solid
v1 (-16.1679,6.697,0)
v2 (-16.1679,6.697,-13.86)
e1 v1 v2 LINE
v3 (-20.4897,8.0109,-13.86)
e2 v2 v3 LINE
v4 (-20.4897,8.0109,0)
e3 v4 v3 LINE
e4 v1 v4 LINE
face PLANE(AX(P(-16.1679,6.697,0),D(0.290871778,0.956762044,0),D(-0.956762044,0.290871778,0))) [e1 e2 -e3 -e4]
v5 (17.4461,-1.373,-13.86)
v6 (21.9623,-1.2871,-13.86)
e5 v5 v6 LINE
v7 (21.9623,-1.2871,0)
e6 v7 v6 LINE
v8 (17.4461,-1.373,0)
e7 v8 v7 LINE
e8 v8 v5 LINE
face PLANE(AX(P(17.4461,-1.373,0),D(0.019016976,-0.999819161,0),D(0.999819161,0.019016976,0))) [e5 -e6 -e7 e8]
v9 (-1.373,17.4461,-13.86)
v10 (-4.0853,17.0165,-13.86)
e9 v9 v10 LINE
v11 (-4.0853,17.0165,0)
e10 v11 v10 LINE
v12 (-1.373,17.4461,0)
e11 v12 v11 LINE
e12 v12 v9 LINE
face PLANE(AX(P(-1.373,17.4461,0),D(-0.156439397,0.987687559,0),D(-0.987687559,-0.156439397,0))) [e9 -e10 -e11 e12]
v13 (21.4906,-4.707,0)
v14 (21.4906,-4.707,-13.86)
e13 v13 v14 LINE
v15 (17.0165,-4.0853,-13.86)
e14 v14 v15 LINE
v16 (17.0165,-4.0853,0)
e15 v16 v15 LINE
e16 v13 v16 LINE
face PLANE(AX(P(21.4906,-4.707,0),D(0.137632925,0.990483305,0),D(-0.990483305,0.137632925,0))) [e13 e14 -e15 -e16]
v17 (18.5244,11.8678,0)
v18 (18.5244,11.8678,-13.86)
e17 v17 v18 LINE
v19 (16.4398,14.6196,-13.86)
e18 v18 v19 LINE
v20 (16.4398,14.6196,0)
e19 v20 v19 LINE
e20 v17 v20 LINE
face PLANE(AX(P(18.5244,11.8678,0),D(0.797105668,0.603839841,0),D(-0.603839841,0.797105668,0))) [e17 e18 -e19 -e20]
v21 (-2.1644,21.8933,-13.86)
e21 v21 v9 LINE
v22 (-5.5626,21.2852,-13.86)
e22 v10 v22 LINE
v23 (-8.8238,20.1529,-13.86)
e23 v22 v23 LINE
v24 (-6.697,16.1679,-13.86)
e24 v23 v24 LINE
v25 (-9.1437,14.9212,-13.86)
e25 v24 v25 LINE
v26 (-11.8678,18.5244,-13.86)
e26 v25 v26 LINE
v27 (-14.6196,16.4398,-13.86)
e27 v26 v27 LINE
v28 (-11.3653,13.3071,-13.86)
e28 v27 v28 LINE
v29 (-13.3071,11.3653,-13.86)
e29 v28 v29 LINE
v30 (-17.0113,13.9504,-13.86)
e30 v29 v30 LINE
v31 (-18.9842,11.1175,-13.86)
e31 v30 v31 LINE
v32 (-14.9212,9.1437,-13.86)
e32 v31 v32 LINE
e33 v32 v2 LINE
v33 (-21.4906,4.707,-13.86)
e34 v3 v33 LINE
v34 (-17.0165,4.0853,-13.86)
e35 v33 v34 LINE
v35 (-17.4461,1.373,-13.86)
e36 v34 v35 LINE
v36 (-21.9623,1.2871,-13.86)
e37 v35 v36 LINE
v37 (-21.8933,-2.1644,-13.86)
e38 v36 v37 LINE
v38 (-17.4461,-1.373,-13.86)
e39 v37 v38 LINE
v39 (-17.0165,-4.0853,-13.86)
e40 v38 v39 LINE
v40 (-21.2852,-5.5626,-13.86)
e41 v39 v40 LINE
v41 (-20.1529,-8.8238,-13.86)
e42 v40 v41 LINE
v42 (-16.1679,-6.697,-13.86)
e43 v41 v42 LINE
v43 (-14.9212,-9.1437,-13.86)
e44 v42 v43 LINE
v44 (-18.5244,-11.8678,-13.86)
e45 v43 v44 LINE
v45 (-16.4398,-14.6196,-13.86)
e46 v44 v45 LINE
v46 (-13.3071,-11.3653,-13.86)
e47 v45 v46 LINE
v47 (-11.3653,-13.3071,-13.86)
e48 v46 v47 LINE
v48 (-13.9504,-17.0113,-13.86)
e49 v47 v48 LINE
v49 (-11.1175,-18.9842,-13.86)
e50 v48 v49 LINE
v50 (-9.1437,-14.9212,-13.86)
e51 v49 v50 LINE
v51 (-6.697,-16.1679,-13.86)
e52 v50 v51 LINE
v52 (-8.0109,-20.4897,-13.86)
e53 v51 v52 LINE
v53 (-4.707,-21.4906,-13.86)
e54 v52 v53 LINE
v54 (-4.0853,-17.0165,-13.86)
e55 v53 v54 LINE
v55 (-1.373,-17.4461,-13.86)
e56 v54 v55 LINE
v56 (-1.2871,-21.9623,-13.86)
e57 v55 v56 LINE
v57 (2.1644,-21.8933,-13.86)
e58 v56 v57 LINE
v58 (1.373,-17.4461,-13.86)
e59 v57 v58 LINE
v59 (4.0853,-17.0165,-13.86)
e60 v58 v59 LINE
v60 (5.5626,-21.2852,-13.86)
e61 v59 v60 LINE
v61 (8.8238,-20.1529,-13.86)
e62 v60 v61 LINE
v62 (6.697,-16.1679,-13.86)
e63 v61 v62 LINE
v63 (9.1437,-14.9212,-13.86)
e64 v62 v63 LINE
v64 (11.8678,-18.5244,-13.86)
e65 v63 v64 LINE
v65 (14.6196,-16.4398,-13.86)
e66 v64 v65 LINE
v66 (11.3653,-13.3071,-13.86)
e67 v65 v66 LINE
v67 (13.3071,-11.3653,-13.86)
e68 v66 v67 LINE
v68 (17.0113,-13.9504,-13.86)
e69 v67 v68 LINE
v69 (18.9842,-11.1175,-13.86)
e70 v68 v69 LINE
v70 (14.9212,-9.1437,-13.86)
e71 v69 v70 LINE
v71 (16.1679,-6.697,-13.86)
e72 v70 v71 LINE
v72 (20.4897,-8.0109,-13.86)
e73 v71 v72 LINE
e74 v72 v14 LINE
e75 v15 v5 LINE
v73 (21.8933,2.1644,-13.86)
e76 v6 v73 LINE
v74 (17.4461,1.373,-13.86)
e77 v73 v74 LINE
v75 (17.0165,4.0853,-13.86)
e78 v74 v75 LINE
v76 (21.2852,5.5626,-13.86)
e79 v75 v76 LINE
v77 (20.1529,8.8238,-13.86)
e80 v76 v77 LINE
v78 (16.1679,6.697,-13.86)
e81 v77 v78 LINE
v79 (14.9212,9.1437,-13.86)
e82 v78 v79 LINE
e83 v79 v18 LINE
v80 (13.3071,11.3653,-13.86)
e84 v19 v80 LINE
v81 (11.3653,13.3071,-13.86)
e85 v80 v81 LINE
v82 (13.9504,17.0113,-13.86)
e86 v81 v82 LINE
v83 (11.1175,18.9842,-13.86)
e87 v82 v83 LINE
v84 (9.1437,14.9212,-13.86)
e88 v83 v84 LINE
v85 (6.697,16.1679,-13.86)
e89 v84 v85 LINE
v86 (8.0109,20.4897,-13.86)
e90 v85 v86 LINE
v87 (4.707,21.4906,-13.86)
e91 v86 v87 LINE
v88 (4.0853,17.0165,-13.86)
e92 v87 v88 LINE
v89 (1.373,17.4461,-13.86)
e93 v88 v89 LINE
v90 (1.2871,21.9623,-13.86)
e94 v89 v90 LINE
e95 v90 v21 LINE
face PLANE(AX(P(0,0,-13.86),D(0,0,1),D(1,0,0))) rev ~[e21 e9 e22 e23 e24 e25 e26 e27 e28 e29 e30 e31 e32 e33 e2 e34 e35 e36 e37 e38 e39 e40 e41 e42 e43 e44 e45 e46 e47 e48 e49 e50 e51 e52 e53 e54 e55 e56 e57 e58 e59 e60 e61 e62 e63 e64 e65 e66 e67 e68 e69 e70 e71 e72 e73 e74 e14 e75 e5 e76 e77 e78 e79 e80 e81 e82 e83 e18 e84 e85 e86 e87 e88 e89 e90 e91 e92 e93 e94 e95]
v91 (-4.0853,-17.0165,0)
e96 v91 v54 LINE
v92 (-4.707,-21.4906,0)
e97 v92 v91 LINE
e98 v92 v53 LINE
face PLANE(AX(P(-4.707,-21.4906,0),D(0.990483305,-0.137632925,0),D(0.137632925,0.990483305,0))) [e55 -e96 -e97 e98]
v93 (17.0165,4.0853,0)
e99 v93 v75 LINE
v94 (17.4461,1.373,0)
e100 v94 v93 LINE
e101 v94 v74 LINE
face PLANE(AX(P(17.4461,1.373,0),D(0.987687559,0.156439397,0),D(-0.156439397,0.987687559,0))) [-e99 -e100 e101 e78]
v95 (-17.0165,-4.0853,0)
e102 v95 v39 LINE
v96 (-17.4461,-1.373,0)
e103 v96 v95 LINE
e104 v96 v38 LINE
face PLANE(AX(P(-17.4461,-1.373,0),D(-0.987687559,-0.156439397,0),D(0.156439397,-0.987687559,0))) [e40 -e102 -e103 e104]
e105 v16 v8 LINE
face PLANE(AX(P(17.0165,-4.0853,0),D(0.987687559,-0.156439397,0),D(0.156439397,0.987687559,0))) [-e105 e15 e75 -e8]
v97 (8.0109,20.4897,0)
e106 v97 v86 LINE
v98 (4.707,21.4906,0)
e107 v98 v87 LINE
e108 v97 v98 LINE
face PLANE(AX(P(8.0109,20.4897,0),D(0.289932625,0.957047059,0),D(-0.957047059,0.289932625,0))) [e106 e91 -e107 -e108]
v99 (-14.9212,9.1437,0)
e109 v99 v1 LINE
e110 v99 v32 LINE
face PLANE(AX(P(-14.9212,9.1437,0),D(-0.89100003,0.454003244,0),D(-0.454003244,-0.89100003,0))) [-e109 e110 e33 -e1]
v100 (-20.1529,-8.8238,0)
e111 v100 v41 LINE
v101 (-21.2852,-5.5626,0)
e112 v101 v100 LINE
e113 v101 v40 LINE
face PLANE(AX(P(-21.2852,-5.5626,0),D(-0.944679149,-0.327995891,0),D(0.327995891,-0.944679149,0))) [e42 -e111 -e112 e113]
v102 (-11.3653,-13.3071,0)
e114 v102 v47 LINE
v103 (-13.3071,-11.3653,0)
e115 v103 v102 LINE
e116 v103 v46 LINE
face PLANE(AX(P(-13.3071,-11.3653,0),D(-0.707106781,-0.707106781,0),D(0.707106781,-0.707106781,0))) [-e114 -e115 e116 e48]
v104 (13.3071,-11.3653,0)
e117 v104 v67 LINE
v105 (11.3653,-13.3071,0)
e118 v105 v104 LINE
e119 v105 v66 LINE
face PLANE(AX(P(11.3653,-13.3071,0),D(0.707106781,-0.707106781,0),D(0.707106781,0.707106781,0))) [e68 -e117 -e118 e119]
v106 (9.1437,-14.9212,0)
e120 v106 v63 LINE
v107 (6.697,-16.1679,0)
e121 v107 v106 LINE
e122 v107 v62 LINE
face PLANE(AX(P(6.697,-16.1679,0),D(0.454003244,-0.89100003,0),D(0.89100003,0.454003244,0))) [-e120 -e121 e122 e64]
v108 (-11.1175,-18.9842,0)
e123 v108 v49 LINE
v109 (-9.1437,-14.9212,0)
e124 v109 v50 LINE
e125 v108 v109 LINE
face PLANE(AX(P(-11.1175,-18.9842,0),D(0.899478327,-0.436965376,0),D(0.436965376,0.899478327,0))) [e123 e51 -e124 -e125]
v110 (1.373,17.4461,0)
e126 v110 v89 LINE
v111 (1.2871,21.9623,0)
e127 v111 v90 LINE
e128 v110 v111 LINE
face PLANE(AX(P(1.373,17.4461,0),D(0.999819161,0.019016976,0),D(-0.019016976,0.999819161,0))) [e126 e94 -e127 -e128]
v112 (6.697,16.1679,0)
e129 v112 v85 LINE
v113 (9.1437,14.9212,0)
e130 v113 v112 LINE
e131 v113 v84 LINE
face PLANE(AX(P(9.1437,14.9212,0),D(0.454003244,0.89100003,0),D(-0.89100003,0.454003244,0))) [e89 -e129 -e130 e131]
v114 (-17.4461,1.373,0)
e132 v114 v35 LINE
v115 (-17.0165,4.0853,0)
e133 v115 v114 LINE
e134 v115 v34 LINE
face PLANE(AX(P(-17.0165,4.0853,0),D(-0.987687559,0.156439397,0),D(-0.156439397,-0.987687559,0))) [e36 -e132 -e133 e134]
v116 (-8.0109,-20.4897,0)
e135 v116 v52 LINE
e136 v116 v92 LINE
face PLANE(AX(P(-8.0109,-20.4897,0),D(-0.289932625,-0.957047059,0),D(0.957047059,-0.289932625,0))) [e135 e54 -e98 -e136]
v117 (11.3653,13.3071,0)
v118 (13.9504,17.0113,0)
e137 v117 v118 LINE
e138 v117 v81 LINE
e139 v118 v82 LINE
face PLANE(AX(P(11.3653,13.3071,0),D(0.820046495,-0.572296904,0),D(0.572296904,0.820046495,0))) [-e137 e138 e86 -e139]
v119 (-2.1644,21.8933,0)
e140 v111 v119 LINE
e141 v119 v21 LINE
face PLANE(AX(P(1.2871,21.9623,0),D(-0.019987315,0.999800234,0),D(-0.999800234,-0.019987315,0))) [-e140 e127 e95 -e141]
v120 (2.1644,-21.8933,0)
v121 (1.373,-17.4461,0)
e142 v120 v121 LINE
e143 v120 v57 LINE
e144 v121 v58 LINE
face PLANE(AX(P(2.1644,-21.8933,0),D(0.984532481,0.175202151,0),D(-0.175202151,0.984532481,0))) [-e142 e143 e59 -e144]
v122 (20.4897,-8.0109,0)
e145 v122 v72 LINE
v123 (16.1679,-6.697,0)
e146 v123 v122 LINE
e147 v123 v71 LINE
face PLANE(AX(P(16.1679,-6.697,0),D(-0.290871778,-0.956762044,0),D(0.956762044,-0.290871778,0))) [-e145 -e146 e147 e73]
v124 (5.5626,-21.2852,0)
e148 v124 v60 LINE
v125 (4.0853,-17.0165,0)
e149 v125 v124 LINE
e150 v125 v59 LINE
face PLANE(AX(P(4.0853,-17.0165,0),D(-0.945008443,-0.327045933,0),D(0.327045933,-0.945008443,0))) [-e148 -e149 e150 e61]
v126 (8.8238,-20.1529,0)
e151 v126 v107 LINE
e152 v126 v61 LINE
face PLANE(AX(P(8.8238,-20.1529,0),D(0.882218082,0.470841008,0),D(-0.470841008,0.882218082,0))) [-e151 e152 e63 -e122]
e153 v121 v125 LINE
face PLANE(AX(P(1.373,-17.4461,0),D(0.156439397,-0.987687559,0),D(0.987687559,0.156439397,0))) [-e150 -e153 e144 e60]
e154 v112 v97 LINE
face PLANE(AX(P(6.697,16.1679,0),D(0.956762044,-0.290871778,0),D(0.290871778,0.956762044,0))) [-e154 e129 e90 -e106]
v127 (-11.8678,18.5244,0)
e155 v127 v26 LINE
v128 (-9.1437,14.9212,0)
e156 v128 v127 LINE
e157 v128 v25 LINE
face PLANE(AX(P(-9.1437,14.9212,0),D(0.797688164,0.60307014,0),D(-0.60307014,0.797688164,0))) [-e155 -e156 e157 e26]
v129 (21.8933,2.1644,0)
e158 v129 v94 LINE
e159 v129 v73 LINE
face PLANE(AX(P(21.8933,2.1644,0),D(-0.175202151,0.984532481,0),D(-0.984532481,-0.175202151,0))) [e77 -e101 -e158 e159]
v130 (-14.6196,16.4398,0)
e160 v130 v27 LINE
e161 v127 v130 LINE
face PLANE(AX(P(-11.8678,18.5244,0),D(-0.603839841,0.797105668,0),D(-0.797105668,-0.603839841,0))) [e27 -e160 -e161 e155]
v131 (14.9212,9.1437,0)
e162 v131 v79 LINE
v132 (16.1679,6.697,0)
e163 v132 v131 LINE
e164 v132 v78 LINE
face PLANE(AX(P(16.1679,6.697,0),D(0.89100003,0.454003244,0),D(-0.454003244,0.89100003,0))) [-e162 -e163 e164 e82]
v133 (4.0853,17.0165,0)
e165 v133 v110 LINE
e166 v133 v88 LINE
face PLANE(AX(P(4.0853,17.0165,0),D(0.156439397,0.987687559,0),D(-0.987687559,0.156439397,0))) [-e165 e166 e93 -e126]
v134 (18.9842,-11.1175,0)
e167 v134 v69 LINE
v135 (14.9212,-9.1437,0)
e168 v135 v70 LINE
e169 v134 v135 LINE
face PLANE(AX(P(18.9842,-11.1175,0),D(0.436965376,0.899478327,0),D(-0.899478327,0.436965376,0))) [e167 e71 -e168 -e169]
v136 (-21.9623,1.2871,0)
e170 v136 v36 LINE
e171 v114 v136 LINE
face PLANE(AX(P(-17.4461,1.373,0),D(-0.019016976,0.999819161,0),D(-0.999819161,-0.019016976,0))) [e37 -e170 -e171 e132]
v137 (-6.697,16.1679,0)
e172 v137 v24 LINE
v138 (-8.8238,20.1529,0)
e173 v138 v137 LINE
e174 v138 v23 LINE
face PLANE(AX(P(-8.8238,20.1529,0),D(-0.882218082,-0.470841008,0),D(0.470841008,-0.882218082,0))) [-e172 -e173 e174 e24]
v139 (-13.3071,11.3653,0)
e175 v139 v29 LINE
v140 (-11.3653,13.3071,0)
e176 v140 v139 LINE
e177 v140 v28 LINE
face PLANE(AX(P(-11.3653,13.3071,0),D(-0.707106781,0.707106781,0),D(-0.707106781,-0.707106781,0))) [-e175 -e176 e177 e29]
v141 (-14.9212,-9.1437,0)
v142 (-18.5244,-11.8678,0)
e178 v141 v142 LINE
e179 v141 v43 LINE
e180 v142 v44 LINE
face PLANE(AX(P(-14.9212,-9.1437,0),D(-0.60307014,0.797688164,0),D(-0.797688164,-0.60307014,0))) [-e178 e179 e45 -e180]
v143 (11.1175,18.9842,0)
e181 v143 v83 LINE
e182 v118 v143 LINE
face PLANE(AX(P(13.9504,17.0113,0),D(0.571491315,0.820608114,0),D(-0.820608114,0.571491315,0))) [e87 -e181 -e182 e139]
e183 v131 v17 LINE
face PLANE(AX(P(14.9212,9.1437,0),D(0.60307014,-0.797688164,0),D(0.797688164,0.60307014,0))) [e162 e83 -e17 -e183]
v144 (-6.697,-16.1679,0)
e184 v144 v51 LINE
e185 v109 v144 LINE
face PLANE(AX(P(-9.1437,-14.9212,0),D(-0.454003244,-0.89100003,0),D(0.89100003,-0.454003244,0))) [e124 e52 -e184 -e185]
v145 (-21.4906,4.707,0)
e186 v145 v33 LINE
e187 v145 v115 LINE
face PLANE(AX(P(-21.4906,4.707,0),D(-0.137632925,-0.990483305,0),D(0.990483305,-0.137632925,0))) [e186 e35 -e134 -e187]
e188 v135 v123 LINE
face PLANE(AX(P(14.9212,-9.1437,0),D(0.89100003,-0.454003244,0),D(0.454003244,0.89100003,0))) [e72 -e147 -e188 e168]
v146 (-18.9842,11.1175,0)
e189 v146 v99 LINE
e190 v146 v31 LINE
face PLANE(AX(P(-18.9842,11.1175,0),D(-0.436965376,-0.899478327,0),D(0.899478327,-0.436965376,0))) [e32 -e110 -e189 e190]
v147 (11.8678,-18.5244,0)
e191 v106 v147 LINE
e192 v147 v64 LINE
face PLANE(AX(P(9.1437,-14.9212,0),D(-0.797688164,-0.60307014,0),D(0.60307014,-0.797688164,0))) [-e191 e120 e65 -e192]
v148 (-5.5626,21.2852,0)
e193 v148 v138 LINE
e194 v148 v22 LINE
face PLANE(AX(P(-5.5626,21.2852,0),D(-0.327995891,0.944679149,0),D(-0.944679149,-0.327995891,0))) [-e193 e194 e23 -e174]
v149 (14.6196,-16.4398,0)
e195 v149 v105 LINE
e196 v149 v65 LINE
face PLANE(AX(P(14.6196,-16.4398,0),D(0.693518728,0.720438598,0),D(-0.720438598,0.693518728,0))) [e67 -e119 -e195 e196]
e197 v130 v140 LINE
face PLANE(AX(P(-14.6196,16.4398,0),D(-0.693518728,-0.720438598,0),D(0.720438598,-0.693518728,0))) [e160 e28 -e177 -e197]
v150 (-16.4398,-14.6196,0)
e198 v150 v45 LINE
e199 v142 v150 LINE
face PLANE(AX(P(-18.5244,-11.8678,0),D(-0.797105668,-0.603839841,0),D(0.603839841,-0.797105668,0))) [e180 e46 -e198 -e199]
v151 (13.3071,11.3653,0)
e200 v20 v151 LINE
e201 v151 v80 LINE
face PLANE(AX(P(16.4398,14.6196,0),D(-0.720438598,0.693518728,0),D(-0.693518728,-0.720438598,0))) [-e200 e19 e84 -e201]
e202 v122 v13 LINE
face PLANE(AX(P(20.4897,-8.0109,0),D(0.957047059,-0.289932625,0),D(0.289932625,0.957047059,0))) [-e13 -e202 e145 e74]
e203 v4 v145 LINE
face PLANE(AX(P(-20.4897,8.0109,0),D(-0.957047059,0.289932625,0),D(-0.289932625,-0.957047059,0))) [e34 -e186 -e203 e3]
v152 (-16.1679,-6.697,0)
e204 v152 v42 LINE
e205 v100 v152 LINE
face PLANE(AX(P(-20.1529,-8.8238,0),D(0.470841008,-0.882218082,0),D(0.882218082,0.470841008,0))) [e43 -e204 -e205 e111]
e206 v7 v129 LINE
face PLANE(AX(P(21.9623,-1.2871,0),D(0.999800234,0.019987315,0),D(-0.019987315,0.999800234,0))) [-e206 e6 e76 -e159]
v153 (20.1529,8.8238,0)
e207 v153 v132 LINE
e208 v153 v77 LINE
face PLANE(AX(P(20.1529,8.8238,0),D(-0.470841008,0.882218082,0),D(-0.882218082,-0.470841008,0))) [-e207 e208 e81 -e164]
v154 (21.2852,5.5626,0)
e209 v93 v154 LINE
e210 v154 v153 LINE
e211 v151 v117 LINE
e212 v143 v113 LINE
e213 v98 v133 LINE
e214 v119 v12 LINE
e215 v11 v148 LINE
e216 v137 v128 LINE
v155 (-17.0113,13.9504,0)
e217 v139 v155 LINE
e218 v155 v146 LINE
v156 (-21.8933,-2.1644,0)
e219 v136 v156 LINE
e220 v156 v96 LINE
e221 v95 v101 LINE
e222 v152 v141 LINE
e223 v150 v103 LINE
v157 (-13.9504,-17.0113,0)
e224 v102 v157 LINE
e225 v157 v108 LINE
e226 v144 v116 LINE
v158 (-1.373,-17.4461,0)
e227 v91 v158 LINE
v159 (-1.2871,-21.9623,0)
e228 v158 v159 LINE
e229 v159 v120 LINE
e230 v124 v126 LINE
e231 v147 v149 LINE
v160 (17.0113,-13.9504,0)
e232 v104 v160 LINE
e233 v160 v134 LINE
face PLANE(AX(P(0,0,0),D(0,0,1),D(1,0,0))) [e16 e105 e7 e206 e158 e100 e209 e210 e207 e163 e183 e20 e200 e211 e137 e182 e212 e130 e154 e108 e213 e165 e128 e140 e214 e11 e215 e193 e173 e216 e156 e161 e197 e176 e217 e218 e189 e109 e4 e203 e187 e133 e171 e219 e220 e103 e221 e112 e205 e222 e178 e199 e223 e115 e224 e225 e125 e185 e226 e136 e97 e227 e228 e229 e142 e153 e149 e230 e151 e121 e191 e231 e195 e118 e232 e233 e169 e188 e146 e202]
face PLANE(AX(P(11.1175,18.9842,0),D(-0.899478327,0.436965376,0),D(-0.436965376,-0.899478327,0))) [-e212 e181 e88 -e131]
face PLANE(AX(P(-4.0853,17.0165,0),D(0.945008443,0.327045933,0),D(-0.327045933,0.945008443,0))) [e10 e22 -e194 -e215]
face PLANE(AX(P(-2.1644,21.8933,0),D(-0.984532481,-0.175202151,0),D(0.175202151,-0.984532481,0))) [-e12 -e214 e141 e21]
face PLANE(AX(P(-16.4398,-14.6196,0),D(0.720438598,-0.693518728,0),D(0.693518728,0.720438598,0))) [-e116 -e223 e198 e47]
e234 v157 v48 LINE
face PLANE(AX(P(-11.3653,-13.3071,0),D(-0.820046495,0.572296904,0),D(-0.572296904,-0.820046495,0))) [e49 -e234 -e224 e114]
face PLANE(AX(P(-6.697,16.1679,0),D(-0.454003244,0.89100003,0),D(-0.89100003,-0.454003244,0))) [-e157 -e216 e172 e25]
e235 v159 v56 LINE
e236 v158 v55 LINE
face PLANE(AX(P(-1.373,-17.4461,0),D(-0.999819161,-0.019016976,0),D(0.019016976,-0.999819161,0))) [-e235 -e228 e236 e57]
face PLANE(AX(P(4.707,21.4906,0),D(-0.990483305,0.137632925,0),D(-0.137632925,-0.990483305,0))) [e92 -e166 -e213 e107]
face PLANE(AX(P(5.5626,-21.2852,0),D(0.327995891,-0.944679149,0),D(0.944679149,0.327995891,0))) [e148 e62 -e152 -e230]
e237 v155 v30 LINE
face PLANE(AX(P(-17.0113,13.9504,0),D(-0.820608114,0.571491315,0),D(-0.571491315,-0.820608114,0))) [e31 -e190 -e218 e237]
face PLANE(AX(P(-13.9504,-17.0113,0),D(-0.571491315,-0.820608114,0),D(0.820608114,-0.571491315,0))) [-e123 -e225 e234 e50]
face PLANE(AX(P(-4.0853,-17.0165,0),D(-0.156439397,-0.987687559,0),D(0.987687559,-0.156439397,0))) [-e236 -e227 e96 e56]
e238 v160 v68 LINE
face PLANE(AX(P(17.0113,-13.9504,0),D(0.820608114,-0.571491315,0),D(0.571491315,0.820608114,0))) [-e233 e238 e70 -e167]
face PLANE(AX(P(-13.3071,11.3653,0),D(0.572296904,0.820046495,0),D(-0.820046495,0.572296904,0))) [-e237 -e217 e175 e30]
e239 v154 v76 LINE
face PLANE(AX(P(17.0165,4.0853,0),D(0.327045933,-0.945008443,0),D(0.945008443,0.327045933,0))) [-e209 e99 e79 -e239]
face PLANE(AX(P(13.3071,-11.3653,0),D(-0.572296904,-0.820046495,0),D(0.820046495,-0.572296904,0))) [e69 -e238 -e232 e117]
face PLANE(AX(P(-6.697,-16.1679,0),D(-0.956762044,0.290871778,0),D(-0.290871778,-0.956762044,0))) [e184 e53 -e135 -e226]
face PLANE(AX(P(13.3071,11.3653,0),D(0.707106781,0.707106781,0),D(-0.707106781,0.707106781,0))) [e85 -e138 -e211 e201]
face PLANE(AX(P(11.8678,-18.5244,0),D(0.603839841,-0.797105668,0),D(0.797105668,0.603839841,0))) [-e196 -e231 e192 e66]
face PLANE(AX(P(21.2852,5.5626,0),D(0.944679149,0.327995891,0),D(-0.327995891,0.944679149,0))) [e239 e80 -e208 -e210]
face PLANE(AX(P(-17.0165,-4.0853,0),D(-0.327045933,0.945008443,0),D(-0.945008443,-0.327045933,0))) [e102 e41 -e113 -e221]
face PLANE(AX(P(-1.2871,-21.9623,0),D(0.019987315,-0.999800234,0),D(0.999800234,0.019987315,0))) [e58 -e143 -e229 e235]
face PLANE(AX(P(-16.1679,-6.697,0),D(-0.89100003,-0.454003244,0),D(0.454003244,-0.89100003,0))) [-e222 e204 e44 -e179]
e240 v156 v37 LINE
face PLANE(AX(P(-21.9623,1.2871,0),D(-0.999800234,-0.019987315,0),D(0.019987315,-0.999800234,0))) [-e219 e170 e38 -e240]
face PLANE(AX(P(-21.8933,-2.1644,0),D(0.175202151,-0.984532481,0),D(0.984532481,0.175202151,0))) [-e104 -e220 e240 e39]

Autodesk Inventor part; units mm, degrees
ref_plane "YZ Plane" through (0, 0, 0) normal (1, 0, 0) x (0, 1, 0)
ref_plane "XZ Plane" through (0, 0, 0) normal (0, 1, 0) x (-1, 0, 0)
ref_plane "XY Plane" through (0, 0, 0) normal (0, 0, 1) x (1, 0, 0)
sketch "Gear_Profile_Sketch" plane through (0, 0, 0) normal (0, 0, 1) x (1, 0, 0)
  line L0 (17.4461, -1.373) -> (21.9623, -1.2871)
  line L1 (21.9623, -1.2871) -> (21.8933, 2.1644)
  line L2 (21.8933, 2.1644) -> (17.4461, 1.373)
  line L3 (17.4461, 1.373) -> (17.0165, 4.0853)
  line L4 (17.0165, 4.0853) -> (21.2852, 5.5626)
  line L5 (21.2852, 5.5626) -> (20.1529, 8.8238)
  line L6 (20.1529, 8.8238) -> (16.1679, 6.697)
  line L7 (16.1679, 6.697) -> (14.9212, 9.1437)
  line L8 (14.9212, 9.1437) -> (18.5244, 11.8678)
  line L9 (18.5244, 11.8678) -> (16.4398, 14.6196)
  line L10 (16.4398, 14.6196) -> (13.3071, 11.3653)
  line L11 (13.3071, 11.3653) -> (11.3653, 13.3071)
  line L12 (11.3653, 13.3071) -> (13.9504, 17.0113)
  line L13 (13.9504, 17.0113) -> (11.1175, 18.9842)
  line L14 (11.1175, 18.9842) -> (9.1437, 14.9212)
  line L15 (9.1437, 14.9212) -> (6.697, 16.1679)
  line L16 (6.697, 16.1679) -> (8.0109, 20.4897)
  line L17 (8.0109, 20.4897) -> (4.707, 21.4906)
  line L18 (4.707, 21.4906) -> (4.0853, 17.0165)
  line L19 (4.0853, 17.0165) -> (1.373, 17.4461)
  line L20 (1.373, 17.4461) -> (1.2871, 21.9623)
  line L21 (1.2871, 21.9623) -> (-2.1644, 21.8933)
  line L22 (-2.1644, 21.8933) -> (-1.373, 17.4461)
  line L23 (-1.373, 17.4461) -> (-4.0853, 17.0165)
  line L24 (-4.0853, 17.0165) -> (-5.5626, 21.2852)
  line L25 (-5.5626, 21.2852) -> (-8.8238, 20.1529)
  line L26 (-8.8238, 20.1529) -> (-6.697, 16.1679)
  line L27 (-6.697, 16.1679) -> (-9.1437, 14.9212)
  line L28 (-9.1437, 14.9212) -> (-11.8678, 18.5244)
  line L29 (-11.8678, 18.5244) -> (-14.6196, 16.4398)
  line L30 (-14.6196, 16.4398) -> (-11.3653, 13.3071)
  line L31 (-11.3653, 13.3071) -> (-13.3071, 11.3653)
  line L32 (-13.3071, 11.3653) -> (-17.0113, 13.9504)
  line L33 (-17.0113, 13.9504) -> (-18.9842, 11.1175)
  line L34 (-18.9842, 11.1175) -> (-14.9212, 9.1437)
  line L35 (-14.9212, 9.1437) -> (-16.1679, 6.697)
  line L36 (-16.1679, 6.697) -> (-20.4897, 8.0109)
  line L37 (-20.4897, 8.0109) -> (-21.4906, 4.707)
  line L38 (-21.4906, 4.707) -> (-17.0165, 4.0853)
  line L39 (-17.0165, 4.0853) -> (-17.4461, 1.373)
  line L40 (-17.4461, 1.373) -> (-21.9623, 1.2871)
  line L41 (-21.9623, 1.2871) -> (-21.8933, -2.1644)
  line L42 (-21.8933, -2.1644) -> (-17.4461, -1.373)
  line L43 (-17.4461, -1.373) -> (-17.0165, -4.0853)
  line L44 (-17.0165, -4.0853) -> (-21.2852, -5.5626)
  line L45 (-21.2852, -5.5626) -> (-20.1529, -8.8238)
  line L46 (-20.1529, -8.8238) -> (-16.1679, -6.697)
  line L47 (-16.1679, -6.697) -> (-14.9212, -9.1437)
  line L48 (-14.9212, -9.1437) -> (-18.5244, -11.8678)
  line L49 (-18.5244, -11.8678) -> (-16.4398, -14.6196)
  line L50 (-16.4398, -14.6196) -> (-13.3071, -11.3653)
  line L51 (-13.3071, -11.3653) -> (-11.3653, -13.3071)
  line L52 (-11.3653, -13.3071) -> (-13.9504, -17.0113)
  line L53 (-13.9504, -17.0113) -> (-11.1175, -18.9842)
  line L54 (-11.1175, -18.9842) -> (-9.1437, -14.9212)
  line L55 (-9.1437, -14.9212) -> (-6.697, -16.1679)
  line L56 (-6.697, -16.1679) -> (-8.0109, -20.4897)
  line L57 (-8.0109, -20.4897) -> (-4.707, -21.4906)
  line L58 (-4.707, -21.4906) -> (-4.0853, -17.0165)
  line L59 (-4.0853, -17.0165) -> (-1.373, -17.4461)
  line L60 (-1.373, -17.4461) -> (-1.2871, -21.9623)
  line L61 (-1.2871, -21.9623) -> (2.1644, -21.8933)
  line L62 (2.1644, -21.8933) -> (1.373, -17.4461)
  line L63 (1.373, -17.4461) -> (4.0853, -17.0165)
  line L64 (4.0853, -17.0165) -> (5.5626, -21.2852)
  line L65 (5.5626, -21.2852) -> (8.8238, -20.1529)
  line L66 (8.8238, -20.1529) -> (6.697, -16.1679)
  line L67 (6.697, -16.1679) -> (9.1437, -14.9212)
  line L68 (9.1437, -14.9212) -> (11.8678, -18.5244)
  line L69 (11.8678, -18.5244) -> (14.6196, -16.4398)
  line L70 (14.6196, -16.4398) -> (11.3653, -13.3071)
  line L71 (11.3653, -13.3071) -> (13.3071, -11.3653)
  line L72 (13.3071, -11.3653) -> (17.0113, -13.9504)
  line L73 (17.0113, -13.9504) -> (18.9842, -11.1175)
  line L74 (18.9842, -11.1175) -> (14.9212, -9.1437)
  line L75 (14.9212, -9.1437) -> (16.1679, -6.697)
  line L76 (16.1679, -6.697) -> (20.4897, -8.0109)
  line L77 (20.4897, -8.0109) -> (21.4906, -4.707)
  line L78 (21.4906, -4.707) -> (17.0165, -4.0853)
  line L79 (17.0165, -4.0853) -> (17.4461, -1.373)
extrude "Extrusion1" add sketch "Gear_Profile_Sketch" against normal blind 13.86
properties part number "pinn_optimized_geometry"
